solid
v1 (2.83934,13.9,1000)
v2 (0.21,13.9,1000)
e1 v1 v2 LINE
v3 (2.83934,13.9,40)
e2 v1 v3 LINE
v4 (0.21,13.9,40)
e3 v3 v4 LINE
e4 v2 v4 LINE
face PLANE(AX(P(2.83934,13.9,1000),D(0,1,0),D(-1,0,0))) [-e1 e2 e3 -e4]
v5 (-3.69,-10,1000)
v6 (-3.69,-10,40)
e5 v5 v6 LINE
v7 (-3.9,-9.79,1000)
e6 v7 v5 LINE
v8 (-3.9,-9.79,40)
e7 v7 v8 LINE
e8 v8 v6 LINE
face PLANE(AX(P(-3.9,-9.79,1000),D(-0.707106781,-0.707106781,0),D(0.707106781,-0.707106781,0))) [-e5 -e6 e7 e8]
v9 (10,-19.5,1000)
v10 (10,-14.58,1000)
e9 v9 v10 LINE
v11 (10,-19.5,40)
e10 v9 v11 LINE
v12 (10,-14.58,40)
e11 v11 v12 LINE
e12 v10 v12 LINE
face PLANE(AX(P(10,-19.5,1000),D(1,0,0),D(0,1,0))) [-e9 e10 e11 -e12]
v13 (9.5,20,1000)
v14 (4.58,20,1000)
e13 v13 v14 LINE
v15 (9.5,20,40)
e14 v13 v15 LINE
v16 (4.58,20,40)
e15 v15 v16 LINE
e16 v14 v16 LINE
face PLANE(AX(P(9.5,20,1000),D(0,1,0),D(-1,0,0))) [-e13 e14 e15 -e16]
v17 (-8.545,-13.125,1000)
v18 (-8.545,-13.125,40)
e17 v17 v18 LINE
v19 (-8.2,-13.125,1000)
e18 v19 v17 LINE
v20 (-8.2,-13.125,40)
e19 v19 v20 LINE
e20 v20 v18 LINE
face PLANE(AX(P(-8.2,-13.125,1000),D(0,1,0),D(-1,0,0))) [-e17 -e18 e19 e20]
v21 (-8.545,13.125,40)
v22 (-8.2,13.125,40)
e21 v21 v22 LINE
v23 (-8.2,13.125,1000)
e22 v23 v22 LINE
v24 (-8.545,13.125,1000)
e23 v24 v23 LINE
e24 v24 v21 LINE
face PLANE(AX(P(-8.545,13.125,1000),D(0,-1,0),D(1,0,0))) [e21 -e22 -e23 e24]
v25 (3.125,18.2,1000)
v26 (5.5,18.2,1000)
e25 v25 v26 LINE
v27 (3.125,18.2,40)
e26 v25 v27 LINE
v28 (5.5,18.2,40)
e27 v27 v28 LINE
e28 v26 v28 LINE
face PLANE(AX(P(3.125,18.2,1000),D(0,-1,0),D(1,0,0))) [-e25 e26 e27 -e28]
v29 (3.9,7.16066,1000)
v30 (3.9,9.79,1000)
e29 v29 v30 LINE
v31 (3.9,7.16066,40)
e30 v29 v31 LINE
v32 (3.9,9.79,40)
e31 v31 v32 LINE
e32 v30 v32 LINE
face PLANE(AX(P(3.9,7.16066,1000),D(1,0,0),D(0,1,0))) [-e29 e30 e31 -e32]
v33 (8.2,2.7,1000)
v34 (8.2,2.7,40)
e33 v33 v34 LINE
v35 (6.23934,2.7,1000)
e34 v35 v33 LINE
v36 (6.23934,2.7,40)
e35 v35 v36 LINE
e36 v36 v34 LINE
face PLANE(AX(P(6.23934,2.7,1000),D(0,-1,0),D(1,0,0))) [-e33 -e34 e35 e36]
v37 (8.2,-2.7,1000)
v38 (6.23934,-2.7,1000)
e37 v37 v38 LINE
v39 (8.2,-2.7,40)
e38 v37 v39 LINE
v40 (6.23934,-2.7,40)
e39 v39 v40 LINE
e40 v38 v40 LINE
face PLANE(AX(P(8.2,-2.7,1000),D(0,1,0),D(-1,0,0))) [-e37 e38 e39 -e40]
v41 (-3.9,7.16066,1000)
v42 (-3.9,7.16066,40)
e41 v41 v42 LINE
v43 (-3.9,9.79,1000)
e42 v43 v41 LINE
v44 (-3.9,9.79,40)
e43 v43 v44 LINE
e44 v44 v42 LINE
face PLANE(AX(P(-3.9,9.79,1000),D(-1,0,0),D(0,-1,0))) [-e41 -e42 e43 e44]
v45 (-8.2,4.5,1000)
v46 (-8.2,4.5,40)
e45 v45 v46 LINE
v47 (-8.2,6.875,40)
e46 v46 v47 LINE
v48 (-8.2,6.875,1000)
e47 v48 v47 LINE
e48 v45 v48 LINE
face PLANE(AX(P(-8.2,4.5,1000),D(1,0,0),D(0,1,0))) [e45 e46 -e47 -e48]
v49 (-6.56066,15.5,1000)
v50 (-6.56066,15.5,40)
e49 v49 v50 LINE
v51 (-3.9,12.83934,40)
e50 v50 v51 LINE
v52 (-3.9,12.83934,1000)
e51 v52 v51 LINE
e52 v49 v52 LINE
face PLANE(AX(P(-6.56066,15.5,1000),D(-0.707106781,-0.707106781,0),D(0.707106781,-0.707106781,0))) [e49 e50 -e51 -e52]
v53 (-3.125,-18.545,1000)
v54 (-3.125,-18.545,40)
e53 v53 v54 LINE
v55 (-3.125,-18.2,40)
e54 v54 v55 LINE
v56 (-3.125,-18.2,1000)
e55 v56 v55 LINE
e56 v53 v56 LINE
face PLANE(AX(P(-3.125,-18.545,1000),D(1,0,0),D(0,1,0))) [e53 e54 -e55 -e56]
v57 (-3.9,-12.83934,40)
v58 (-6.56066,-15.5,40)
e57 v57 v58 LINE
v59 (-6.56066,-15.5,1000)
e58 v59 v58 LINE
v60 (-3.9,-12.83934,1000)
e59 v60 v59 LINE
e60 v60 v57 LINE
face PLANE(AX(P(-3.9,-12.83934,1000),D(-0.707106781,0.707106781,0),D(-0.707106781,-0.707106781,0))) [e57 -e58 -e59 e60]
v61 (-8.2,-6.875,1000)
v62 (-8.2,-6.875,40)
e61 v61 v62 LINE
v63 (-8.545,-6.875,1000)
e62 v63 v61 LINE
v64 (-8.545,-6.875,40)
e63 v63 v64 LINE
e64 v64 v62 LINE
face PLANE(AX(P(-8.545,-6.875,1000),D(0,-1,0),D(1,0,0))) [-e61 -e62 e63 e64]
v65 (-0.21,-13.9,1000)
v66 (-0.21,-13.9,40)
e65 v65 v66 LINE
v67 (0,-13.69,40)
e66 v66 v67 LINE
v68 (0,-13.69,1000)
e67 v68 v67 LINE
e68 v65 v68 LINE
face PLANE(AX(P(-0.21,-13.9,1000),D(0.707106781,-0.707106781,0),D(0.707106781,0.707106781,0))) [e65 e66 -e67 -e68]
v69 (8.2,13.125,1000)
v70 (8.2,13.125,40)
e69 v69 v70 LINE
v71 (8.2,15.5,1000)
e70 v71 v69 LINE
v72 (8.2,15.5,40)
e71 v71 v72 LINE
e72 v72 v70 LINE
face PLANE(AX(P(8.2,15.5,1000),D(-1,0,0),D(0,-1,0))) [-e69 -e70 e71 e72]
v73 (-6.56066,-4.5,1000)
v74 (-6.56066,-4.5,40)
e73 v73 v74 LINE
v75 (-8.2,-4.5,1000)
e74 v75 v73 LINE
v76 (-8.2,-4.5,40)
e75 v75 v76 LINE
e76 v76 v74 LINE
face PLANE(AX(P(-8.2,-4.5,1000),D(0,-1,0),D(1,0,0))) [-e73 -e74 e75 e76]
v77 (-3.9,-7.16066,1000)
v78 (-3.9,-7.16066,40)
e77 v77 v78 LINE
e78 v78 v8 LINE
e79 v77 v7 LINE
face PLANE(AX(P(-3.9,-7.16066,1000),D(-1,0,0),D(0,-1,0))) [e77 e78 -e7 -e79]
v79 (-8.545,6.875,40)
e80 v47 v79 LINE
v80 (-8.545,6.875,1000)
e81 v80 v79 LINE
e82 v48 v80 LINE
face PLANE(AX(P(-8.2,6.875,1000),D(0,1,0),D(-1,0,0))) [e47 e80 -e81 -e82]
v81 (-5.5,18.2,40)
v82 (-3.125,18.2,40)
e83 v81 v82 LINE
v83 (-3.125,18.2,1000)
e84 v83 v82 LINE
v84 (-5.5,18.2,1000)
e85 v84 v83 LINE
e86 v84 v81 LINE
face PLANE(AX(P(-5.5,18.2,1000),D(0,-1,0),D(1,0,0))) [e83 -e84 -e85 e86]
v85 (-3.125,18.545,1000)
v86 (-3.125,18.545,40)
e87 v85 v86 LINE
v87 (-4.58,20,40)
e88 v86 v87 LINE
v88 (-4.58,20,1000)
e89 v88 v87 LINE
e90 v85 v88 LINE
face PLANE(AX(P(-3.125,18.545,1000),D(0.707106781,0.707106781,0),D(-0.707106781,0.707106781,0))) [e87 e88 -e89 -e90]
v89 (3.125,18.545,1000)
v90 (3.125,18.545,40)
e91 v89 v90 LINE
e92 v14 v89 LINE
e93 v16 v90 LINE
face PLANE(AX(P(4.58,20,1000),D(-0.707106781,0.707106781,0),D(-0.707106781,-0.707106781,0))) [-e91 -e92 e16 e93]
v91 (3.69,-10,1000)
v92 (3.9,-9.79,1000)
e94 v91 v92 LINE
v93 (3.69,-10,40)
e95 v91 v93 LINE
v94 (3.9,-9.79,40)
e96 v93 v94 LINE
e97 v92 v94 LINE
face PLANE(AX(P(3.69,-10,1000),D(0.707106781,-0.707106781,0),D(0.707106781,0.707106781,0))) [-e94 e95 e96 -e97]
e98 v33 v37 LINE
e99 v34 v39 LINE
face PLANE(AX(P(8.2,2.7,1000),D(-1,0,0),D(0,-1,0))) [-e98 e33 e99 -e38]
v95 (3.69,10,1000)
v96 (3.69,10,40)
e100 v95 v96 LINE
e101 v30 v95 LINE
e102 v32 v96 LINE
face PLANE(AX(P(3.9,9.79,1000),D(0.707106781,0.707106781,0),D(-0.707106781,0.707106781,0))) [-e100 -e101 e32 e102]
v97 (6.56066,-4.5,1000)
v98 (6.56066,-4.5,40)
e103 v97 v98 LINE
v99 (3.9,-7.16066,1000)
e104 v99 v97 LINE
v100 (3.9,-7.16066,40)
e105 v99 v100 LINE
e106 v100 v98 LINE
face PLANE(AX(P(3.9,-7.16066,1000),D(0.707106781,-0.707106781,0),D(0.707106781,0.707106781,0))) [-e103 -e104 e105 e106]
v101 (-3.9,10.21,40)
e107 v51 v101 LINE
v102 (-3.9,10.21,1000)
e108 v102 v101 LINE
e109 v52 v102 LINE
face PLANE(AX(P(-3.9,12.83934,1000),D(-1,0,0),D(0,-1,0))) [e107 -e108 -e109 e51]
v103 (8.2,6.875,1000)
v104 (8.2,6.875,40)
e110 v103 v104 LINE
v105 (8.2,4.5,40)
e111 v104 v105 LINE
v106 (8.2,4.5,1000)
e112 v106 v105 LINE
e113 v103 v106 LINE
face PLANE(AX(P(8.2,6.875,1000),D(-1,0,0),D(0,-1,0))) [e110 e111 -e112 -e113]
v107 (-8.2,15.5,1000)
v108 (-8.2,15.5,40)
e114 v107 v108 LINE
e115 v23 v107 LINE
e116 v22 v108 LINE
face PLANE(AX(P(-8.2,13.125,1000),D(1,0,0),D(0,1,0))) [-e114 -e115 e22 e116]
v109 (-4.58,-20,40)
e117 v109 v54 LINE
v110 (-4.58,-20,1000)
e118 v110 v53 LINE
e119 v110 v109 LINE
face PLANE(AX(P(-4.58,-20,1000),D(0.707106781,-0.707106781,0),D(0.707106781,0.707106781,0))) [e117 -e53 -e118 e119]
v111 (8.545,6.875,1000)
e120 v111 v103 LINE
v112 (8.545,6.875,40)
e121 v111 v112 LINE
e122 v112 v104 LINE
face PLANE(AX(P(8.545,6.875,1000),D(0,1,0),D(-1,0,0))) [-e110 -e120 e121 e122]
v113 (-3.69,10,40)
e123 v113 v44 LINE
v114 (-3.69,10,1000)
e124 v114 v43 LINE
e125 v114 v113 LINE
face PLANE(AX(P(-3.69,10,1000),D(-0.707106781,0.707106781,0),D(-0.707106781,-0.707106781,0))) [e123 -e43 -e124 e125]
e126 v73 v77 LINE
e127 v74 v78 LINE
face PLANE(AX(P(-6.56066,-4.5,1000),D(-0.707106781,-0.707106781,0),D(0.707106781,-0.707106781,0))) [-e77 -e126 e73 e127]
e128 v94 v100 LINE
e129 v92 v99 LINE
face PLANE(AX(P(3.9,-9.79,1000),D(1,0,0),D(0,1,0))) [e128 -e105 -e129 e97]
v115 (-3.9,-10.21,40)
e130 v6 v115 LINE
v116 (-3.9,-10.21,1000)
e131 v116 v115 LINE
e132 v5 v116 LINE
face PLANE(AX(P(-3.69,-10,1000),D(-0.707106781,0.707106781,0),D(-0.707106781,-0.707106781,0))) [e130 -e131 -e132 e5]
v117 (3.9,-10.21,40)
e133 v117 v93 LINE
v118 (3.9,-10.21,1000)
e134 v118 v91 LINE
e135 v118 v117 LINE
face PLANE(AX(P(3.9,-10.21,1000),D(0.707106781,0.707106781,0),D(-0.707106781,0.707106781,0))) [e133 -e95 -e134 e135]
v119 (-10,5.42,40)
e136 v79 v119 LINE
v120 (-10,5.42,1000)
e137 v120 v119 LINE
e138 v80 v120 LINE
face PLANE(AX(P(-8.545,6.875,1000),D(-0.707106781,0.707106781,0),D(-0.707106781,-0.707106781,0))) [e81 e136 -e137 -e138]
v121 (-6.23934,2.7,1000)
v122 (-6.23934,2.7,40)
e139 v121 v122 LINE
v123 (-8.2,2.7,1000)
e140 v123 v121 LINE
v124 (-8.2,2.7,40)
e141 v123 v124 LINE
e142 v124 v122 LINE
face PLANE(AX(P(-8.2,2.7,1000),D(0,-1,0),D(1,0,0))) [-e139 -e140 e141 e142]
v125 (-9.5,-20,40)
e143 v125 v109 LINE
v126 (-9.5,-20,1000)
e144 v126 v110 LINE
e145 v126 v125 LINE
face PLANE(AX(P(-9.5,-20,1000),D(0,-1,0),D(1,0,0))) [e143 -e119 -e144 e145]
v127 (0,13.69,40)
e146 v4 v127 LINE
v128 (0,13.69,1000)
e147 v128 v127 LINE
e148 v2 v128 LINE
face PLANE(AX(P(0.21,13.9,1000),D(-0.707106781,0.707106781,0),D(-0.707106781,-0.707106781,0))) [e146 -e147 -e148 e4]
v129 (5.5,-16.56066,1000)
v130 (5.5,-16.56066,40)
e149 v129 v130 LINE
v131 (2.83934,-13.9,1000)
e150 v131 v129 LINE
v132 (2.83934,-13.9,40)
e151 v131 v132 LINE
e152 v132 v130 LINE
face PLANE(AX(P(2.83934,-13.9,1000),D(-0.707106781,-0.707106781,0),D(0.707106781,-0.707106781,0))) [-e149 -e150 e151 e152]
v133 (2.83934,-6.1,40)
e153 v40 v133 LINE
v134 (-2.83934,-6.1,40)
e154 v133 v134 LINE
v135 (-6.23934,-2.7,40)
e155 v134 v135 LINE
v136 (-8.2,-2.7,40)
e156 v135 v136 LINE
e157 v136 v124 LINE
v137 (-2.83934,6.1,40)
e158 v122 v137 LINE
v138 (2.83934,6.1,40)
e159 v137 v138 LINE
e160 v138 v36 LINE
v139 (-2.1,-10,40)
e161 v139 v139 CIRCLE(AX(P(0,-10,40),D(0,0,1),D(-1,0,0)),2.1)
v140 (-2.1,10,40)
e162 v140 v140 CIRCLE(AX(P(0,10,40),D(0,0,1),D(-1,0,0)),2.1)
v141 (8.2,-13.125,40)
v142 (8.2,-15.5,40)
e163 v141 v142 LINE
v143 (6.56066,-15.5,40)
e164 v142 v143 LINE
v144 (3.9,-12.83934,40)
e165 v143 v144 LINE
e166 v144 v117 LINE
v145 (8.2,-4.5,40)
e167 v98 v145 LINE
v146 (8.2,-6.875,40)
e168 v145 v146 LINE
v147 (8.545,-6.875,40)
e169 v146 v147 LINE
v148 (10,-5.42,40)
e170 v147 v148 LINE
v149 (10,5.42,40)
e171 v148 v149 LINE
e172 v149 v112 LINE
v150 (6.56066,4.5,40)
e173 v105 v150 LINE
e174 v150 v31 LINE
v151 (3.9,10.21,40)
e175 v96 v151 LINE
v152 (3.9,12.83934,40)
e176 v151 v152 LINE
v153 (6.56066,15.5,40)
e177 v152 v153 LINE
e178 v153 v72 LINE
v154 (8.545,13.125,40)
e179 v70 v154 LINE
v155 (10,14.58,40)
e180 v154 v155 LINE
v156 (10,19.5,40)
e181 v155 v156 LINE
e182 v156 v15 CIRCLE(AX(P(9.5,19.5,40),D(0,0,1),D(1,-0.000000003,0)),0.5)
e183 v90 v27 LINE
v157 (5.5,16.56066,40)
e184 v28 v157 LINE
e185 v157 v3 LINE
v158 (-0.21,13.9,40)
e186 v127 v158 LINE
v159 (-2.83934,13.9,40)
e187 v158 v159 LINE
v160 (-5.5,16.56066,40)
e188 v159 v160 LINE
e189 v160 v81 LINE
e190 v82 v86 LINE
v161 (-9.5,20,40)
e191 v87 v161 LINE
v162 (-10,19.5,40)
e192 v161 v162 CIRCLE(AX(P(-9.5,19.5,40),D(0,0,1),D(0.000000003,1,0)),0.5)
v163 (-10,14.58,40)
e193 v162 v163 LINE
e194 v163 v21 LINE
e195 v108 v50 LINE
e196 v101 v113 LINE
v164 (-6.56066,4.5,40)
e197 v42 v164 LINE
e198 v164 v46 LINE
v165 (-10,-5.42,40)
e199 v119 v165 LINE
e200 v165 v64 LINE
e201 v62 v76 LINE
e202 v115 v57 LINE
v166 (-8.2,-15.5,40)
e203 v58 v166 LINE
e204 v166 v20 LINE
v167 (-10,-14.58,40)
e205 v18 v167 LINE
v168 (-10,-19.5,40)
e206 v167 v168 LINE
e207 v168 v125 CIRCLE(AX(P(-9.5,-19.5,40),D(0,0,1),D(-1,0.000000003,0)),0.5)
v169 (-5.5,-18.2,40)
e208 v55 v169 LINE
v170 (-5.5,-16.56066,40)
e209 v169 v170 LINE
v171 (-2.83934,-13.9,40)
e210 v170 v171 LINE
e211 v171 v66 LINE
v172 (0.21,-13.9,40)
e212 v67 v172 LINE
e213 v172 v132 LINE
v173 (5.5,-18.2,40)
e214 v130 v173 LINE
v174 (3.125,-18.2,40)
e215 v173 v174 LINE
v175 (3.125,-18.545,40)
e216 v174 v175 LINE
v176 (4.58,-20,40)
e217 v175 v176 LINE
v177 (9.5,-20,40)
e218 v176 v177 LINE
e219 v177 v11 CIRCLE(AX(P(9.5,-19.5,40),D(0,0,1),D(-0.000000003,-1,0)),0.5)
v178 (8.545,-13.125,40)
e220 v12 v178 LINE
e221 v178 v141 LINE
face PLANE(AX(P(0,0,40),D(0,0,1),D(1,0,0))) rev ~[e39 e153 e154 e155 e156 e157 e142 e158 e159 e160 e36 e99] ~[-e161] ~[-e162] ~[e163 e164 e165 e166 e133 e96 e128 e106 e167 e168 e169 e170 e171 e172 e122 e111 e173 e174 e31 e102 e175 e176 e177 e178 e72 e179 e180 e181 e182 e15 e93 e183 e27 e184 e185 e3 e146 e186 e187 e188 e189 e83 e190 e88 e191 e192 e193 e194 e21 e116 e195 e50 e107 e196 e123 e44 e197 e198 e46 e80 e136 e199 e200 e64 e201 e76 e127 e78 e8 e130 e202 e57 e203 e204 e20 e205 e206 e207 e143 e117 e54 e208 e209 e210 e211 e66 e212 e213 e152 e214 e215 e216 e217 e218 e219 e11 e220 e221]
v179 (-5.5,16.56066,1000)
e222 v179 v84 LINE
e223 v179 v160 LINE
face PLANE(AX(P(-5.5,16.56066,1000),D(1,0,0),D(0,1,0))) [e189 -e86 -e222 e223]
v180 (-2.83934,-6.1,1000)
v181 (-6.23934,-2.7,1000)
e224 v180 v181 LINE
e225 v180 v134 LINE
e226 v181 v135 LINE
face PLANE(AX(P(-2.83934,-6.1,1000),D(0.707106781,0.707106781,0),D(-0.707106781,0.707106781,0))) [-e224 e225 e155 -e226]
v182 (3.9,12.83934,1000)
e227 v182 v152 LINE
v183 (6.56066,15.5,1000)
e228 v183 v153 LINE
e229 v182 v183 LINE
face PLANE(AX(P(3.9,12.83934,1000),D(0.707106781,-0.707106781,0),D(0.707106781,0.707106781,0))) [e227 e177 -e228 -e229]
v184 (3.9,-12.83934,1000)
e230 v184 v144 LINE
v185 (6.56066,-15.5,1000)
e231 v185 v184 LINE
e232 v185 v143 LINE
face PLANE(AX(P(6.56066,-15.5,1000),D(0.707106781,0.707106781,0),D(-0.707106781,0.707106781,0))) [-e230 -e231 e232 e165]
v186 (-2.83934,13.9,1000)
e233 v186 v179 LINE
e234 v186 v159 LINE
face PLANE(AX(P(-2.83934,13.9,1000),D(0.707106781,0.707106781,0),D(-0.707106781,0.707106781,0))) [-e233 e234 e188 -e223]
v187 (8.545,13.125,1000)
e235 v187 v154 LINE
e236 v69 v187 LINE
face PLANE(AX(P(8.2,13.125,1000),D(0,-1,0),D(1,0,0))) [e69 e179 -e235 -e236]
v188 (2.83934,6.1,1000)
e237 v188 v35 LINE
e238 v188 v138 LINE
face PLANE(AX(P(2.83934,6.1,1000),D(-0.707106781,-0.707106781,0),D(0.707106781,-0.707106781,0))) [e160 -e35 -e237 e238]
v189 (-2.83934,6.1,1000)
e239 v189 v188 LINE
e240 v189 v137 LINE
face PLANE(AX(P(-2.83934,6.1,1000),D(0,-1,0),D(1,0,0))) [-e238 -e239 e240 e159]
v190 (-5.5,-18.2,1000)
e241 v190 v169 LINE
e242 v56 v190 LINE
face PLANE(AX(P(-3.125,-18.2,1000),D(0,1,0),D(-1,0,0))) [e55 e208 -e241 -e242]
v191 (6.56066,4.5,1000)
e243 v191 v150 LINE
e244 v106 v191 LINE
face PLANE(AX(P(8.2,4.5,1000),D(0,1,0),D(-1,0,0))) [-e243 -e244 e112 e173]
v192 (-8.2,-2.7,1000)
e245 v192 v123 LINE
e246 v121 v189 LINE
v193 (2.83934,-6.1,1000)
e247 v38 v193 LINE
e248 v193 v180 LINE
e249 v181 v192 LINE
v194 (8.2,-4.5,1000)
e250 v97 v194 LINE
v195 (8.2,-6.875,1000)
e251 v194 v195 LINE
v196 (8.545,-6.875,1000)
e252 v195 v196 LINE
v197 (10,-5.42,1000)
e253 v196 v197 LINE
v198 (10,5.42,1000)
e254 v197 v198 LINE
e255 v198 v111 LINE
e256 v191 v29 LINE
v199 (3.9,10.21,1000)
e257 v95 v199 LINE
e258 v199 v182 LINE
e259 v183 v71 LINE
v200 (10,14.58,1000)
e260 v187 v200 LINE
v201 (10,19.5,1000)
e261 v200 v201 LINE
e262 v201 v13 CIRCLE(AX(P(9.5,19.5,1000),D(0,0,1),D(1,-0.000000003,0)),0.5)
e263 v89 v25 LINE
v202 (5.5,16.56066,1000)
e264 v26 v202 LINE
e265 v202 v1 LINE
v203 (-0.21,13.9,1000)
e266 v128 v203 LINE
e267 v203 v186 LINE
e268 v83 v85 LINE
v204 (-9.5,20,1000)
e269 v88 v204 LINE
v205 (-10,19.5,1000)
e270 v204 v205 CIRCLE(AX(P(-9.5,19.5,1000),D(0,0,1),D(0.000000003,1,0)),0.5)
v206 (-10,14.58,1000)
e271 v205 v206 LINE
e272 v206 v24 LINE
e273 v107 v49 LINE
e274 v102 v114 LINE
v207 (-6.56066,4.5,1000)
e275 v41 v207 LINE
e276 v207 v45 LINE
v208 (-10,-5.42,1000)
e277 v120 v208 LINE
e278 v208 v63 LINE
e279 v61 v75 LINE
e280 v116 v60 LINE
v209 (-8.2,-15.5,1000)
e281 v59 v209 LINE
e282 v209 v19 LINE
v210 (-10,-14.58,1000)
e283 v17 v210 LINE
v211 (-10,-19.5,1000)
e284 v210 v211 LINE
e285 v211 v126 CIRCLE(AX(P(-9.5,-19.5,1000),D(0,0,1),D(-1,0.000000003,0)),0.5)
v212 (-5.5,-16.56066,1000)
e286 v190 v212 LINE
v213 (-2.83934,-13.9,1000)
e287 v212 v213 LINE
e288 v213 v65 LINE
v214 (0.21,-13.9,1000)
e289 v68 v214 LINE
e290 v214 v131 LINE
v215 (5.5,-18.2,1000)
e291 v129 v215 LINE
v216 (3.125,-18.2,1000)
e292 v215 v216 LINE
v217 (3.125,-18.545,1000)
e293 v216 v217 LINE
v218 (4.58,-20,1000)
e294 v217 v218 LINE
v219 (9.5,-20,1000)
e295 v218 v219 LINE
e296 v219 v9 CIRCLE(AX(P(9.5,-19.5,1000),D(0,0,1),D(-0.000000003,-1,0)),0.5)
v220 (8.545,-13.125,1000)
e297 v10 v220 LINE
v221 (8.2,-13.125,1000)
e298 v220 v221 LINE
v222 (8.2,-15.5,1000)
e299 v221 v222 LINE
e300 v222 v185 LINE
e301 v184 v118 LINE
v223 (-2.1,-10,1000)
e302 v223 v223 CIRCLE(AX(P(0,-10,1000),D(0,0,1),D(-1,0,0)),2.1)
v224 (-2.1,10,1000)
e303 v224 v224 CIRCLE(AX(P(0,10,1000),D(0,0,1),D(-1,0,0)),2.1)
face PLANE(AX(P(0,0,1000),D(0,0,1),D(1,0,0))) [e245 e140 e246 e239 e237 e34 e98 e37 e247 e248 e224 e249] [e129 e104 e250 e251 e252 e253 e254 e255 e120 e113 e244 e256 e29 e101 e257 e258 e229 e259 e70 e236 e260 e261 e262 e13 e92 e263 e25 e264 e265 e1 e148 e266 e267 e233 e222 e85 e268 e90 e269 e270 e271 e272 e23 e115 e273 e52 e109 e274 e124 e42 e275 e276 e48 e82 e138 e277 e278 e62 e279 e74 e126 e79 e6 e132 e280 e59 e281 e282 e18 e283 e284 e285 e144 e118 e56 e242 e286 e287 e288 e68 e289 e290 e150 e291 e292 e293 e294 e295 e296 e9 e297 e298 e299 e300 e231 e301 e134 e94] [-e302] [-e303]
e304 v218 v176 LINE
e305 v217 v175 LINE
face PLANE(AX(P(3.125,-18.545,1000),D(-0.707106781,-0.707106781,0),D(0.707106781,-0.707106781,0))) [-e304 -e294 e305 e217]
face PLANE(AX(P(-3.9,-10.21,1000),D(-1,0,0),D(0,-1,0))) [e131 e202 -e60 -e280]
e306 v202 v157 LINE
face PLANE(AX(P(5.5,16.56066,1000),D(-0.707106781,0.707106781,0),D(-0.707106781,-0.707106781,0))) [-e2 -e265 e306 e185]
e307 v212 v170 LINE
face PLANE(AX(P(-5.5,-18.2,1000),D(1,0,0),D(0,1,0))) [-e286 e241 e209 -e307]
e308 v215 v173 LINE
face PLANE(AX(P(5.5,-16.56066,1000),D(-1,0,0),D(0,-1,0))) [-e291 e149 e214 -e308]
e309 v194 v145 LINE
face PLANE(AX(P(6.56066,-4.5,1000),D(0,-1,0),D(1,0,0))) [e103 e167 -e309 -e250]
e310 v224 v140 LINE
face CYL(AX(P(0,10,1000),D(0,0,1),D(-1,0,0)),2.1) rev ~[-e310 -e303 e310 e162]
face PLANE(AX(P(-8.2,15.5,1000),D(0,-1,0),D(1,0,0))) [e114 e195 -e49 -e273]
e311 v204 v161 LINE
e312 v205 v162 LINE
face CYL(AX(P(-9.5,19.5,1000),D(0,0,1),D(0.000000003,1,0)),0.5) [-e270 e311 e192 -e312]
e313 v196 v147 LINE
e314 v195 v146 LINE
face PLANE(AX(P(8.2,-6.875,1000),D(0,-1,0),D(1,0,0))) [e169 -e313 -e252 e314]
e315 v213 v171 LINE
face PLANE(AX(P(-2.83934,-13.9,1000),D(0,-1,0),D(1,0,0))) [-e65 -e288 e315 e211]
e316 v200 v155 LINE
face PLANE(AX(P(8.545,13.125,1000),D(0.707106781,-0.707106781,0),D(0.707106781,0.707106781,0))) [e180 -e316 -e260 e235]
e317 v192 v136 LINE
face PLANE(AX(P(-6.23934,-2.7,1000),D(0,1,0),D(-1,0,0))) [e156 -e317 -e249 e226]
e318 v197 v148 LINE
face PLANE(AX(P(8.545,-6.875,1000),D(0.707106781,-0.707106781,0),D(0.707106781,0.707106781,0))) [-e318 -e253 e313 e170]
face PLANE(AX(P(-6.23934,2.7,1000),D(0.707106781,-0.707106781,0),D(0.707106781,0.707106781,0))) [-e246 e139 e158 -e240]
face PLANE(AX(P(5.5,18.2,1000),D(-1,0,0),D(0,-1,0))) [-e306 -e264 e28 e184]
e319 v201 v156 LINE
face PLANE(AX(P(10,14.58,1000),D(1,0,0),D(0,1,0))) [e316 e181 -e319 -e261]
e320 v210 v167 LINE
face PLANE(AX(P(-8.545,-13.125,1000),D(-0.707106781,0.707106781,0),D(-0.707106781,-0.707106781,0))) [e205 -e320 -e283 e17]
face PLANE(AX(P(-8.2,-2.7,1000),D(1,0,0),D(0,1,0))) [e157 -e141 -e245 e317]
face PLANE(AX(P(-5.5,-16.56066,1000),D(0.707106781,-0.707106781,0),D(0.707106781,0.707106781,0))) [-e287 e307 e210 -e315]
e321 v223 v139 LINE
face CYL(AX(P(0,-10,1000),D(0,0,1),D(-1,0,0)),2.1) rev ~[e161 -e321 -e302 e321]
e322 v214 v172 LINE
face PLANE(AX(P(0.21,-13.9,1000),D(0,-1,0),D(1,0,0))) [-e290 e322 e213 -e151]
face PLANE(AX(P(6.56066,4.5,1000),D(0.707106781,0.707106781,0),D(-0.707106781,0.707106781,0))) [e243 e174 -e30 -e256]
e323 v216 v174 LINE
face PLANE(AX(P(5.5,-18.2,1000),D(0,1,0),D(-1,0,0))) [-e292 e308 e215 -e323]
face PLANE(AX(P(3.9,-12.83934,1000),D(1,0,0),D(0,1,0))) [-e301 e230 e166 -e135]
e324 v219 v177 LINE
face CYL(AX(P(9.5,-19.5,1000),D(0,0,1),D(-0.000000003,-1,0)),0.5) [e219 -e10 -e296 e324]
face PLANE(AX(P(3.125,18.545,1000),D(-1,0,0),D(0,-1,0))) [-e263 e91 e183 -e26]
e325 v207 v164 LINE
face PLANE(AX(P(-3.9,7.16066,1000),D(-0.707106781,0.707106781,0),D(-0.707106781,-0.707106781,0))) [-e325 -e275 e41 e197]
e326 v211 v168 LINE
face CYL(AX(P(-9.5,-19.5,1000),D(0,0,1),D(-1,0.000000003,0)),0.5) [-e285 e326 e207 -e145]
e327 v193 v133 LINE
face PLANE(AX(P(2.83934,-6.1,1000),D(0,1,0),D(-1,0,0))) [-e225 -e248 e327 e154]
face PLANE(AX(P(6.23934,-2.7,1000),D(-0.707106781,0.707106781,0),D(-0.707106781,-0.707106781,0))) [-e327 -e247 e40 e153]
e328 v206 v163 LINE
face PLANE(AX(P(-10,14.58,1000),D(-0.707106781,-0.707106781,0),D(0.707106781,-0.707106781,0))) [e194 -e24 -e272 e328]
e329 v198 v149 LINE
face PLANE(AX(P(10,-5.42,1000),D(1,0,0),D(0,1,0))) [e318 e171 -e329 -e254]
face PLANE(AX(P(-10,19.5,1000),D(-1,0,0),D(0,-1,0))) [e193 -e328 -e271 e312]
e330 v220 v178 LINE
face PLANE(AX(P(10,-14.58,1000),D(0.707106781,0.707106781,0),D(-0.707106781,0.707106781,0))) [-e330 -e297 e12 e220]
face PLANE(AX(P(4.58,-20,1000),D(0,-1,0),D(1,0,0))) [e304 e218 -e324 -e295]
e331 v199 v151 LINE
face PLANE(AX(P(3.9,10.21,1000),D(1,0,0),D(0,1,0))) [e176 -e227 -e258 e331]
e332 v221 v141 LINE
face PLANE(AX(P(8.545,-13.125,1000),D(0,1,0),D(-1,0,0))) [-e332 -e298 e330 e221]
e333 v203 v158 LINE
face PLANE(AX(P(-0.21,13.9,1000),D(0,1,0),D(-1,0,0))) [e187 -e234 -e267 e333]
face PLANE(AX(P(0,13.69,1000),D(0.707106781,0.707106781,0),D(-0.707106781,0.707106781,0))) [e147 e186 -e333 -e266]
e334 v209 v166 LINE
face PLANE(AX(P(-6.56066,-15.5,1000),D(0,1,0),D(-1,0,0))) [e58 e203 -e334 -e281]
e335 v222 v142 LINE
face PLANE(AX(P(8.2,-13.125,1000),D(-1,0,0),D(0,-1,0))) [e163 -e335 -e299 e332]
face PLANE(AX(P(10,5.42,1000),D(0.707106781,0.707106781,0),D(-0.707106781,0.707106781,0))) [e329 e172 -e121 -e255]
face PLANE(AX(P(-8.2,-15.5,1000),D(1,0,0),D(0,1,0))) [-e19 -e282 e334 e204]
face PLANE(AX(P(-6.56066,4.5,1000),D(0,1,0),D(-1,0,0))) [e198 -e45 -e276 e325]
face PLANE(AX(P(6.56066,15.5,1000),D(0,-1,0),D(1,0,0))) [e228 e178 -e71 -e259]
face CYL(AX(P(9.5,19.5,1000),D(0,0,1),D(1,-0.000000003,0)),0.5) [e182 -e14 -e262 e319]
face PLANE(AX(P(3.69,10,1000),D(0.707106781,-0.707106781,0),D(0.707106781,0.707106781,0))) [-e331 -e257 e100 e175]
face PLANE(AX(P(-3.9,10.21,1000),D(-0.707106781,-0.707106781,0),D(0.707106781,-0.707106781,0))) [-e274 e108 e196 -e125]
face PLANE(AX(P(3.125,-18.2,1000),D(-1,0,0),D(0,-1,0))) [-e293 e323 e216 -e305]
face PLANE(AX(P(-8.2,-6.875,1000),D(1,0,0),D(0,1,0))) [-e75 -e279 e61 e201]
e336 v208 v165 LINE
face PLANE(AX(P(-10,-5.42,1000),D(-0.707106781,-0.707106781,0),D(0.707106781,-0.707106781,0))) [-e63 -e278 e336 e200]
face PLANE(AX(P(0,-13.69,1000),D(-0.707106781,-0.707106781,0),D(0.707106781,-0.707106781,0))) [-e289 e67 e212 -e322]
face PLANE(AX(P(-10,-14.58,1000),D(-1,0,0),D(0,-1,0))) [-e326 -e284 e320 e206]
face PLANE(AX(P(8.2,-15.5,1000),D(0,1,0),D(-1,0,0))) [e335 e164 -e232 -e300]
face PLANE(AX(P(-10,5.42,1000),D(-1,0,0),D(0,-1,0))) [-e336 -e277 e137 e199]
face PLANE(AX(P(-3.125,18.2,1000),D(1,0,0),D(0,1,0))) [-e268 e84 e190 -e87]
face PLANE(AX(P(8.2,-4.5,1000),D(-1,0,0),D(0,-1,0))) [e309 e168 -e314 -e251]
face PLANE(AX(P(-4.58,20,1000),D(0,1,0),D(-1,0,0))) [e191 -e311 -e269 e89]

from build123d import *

# Parameters (mm, degrees)
SKETCH1_R           = 2.1
BOSS_EXTRUDE1_DEPTH = 960


with BuildPart() as part:
    # Sketch1 → Boss-Extrude1 (new body)
    with BuildSketch(Plane.XY.offset(1000)):
        with BuildLine():
            Line((6.560660172, 4.5), (3.9, 7.160660172))
            Line((3.9, 7.160660172), (3.9, 9.79))
            Line((3.9, 9.79), (3.69, 10))
            Line((3.69, 10), (3.9, 10.21))
            Line((3.9, 10.21), (3.9, 12.839339828))
            Line((3.9, 12.839339828), (6.560660172, 15.5))
            Line((6.560660172, 15.5), (8.2, 15.5))
            Line((8.2, 15.5), (8.2, 13.125))
            Line((8.2, 13.125), (8.545, 13.125))
            Line((8.545, 13.125), (10, 14.58))
            Line((10, 14.58), (10, 19.5))
            ThreePointArc((10, 19.5), (9.853553391, 19.853553391), (9.5, 20))
            Line((9.5, 20), (4.58, 20))
            Line((4.58, 20), (3.125, 18.545))
            Line((3.125, 18.545), (3.125, 18.2))
            Line((3.125, 18.2), (5.5, 18.2))
            Line((5.5, 18.2), (5.5, 16.560660172))
            Line((5.5, 16.560660172), (2.839339828, 13.9))
            Line((2.839339828, 13.9), (0.21, 13.9))
            Line((0.21, 13.9), (0, 13.69))
            Line((0, 13.69), (-0.21, 13.9))
            Line((-0.21, 13.9), (-2.839339828, 13.9))
            Line((-2.839339828, 13.9), (-5.5, 16.560660172))
            Line((-5.5, 16.560660172), (-5.5, 18.2))
            Line((-5.5, 18.2), (-3.125, 18.2))
            Line((-3.125, 18.2), (-3.125, 18.545))
            Line((-3.125, 18.545), (-4.58, 20))
            Line((-4.58, 20), (-9.5, 20))
            ThreePointArc((-9.5, 20), (-9.853553391, 19.853553391), (-10, 19.5))
            Line((-10, 19.5), (-10, 14.58))
            Line((-10, 14.58), (-8.545, 13.125))
            Line((-8.545, 13.125), (-8.2, 13.125))
            Line((-8.2, 13.125), (-8.2, 15.5))
            Line((-8.2, 15.5), (-6.560660172, 15.5))
            Line((-6.560660172, 15.5), (-3.9, 12.839339828))
            Line((-3.9, 12.839339828), (-3.9, 10.21))
            Line((-3.9, 10.21), (-3.69, 10))
            Line((-3.69, 10), (-3.9, 9.79))
            Line((-3.9, 9.79), (-3.9, 7.160660172))
            Line((-3.9, 7.160660172), (-6.560660172, 4.5))
            Line((-6.560660172, 4.5), (-8.2, 4.5))
            Line((-8.2, 4.5), (-8.2, 6.875))
            Line((-8.2, 6.875), (-8.545, 6.875))
            Line((-8.545, 6.875), (-10, 5.42))
            Line((-10, 5.42), (-10, -5.42))
            Line((-10, -5.42), (-8.545, -6.875))
            Line((-8.545, -6.875), (-8.2, -6.875))
            Line((-8.2, -6.875), (-8.2, -4.5))
            Line((-8.2, -4.5), (-6.560660172, -4.5))
            Line((-6.560660172, -4.5), (-3.9, -7.160660172))
            Line((-3.9, -7.160660172), (-3.9, -9.79))
            Line((-3.9, -9.79), (-3.69, -10))
            Line((-3.69, -10), (-3.9, -10.21))
            Line((-3.9, -10.21), (-3.9, -12.839339828))
            Line((-3.9, -12.839339828), (-6.560660172, -15.5))
            Line((-6.560660172, -15.5), (-8.2, -15.5))
            Line((-8.2, -15.5), (-8.2, -13.125))
            Line((-8.2, -13.125), (-8.545, -13.125))
            Line((-8.545, -13.125), (-10, -14.58))
            Line((-10, -14.58), (-10, -19.5))
            ThreePointArc((-10, -19.5), (-9.853553391, -19.853553391), (-9.5, -20))
            Line((-9.5, -20), (-4.58, -20))
            Line((-4.58, -20), (-3.125, -18.545))
            Line((-3.125, -18.545), (-3.125, -18.2))
            Line((-3.125, -18.2), (-5.5, -18.2))
            Line((-5.5, -18.2), (-5.5, -16.560660172))
            Line((-5.5, -16.560660172), (-2.839339828, -13.9))
            Line((-2.839339828, -13.9), (-0.21, -13.9))
            Line((-0.21, -13.9), (0, -13.69))
            Line((0, -13.69), (0.21, -13.9))
            Line((0.21, -13.9), (2.839339828, -13.9))
            Line((2.839339828, -13.9), (5.5, -16.560660172))
            Line((5.5, -16.560660172), (5.5, -18.2))
            Line((5.5, -18.2), (3.125, -18.2))
            Line((3.125, -18.2), (3.125, -18.545))
            Line((3.125, -18.545), (4.58, -20))
            Line((4.58, -20), (9.5, -20))
            ThreePointArc((9.5, -20), (9.853553391, -19.853553391), (10, -19.5))
            Line((10, -19.5), (10, -14.58))
            Line((10, -14.58), (8.545, -13.125))
            Line((8.545, -13.125), (8.2, -13.125))
            Line((8.2, -13.125), (8.2, -15.5))
            Line((8.2, -15.5), (6.560660172, -15.5))
            Line((6.560660172, -15.5), (3.9, -12.839339828))
            Line((3.9, -12.839339828), (3.9, -10.21))
            Line((3.9, -10.21), (3.69, -10))
            Line((3.69, -10), (3.9, -9.79))
            Line((3.9, -9.79), (3.9, -7.160660172))
            Line((3.9, -7.160660172), (6.560660172, -4.5))
            Line((6.560660172, -4.5), (8.2, -4.5))
            Line((8.2, -4.5), (8.2, -6.875))
            Line((8.2, -6.875), (8.545, -6.875))
            Line((8.545, -6.875), (10, -5.42))
            Line((10, -5.42), (10, 5.42))
            Line((10, 5.42), (8.545, 6.875))
            Line((8.545, 6.875), (8.2, 6.875))
            Line((8.2, 6.875), (8.2, 4.5))
            Line((8.2, 4.5), (6.560660172, 4.5))
        make_face()
        with Locations(Location((0, 10, 0), (0, 0, 180))):
            Circle(SKETCH1_R, mode=Mode.SUBTRACT)
        with Locations(Location((0, -10, 0), (0, 0, 180))):
            Circle(SKETCH1_R, mode=Mode.SUBTRACT)
        Polygon((2.839339828, -6.1), (-2.839339828, -6.1), (-6.239339828, -2.7), (-8.2, -2.7), (-8.2, 2.7), (-6.239339828, 2.7), (-2.839339828, 6.1), (2.839339828, 6.1), (6.239339828, 2.7), (8.2, 2.7), (8.2, -2.7), (6.239339828, -2.7), align=None, mode=Mode.SUBTRACT)
    extrude(amount=-BOSS_EXTRUDE1_DEPTH)


solid = part.part
